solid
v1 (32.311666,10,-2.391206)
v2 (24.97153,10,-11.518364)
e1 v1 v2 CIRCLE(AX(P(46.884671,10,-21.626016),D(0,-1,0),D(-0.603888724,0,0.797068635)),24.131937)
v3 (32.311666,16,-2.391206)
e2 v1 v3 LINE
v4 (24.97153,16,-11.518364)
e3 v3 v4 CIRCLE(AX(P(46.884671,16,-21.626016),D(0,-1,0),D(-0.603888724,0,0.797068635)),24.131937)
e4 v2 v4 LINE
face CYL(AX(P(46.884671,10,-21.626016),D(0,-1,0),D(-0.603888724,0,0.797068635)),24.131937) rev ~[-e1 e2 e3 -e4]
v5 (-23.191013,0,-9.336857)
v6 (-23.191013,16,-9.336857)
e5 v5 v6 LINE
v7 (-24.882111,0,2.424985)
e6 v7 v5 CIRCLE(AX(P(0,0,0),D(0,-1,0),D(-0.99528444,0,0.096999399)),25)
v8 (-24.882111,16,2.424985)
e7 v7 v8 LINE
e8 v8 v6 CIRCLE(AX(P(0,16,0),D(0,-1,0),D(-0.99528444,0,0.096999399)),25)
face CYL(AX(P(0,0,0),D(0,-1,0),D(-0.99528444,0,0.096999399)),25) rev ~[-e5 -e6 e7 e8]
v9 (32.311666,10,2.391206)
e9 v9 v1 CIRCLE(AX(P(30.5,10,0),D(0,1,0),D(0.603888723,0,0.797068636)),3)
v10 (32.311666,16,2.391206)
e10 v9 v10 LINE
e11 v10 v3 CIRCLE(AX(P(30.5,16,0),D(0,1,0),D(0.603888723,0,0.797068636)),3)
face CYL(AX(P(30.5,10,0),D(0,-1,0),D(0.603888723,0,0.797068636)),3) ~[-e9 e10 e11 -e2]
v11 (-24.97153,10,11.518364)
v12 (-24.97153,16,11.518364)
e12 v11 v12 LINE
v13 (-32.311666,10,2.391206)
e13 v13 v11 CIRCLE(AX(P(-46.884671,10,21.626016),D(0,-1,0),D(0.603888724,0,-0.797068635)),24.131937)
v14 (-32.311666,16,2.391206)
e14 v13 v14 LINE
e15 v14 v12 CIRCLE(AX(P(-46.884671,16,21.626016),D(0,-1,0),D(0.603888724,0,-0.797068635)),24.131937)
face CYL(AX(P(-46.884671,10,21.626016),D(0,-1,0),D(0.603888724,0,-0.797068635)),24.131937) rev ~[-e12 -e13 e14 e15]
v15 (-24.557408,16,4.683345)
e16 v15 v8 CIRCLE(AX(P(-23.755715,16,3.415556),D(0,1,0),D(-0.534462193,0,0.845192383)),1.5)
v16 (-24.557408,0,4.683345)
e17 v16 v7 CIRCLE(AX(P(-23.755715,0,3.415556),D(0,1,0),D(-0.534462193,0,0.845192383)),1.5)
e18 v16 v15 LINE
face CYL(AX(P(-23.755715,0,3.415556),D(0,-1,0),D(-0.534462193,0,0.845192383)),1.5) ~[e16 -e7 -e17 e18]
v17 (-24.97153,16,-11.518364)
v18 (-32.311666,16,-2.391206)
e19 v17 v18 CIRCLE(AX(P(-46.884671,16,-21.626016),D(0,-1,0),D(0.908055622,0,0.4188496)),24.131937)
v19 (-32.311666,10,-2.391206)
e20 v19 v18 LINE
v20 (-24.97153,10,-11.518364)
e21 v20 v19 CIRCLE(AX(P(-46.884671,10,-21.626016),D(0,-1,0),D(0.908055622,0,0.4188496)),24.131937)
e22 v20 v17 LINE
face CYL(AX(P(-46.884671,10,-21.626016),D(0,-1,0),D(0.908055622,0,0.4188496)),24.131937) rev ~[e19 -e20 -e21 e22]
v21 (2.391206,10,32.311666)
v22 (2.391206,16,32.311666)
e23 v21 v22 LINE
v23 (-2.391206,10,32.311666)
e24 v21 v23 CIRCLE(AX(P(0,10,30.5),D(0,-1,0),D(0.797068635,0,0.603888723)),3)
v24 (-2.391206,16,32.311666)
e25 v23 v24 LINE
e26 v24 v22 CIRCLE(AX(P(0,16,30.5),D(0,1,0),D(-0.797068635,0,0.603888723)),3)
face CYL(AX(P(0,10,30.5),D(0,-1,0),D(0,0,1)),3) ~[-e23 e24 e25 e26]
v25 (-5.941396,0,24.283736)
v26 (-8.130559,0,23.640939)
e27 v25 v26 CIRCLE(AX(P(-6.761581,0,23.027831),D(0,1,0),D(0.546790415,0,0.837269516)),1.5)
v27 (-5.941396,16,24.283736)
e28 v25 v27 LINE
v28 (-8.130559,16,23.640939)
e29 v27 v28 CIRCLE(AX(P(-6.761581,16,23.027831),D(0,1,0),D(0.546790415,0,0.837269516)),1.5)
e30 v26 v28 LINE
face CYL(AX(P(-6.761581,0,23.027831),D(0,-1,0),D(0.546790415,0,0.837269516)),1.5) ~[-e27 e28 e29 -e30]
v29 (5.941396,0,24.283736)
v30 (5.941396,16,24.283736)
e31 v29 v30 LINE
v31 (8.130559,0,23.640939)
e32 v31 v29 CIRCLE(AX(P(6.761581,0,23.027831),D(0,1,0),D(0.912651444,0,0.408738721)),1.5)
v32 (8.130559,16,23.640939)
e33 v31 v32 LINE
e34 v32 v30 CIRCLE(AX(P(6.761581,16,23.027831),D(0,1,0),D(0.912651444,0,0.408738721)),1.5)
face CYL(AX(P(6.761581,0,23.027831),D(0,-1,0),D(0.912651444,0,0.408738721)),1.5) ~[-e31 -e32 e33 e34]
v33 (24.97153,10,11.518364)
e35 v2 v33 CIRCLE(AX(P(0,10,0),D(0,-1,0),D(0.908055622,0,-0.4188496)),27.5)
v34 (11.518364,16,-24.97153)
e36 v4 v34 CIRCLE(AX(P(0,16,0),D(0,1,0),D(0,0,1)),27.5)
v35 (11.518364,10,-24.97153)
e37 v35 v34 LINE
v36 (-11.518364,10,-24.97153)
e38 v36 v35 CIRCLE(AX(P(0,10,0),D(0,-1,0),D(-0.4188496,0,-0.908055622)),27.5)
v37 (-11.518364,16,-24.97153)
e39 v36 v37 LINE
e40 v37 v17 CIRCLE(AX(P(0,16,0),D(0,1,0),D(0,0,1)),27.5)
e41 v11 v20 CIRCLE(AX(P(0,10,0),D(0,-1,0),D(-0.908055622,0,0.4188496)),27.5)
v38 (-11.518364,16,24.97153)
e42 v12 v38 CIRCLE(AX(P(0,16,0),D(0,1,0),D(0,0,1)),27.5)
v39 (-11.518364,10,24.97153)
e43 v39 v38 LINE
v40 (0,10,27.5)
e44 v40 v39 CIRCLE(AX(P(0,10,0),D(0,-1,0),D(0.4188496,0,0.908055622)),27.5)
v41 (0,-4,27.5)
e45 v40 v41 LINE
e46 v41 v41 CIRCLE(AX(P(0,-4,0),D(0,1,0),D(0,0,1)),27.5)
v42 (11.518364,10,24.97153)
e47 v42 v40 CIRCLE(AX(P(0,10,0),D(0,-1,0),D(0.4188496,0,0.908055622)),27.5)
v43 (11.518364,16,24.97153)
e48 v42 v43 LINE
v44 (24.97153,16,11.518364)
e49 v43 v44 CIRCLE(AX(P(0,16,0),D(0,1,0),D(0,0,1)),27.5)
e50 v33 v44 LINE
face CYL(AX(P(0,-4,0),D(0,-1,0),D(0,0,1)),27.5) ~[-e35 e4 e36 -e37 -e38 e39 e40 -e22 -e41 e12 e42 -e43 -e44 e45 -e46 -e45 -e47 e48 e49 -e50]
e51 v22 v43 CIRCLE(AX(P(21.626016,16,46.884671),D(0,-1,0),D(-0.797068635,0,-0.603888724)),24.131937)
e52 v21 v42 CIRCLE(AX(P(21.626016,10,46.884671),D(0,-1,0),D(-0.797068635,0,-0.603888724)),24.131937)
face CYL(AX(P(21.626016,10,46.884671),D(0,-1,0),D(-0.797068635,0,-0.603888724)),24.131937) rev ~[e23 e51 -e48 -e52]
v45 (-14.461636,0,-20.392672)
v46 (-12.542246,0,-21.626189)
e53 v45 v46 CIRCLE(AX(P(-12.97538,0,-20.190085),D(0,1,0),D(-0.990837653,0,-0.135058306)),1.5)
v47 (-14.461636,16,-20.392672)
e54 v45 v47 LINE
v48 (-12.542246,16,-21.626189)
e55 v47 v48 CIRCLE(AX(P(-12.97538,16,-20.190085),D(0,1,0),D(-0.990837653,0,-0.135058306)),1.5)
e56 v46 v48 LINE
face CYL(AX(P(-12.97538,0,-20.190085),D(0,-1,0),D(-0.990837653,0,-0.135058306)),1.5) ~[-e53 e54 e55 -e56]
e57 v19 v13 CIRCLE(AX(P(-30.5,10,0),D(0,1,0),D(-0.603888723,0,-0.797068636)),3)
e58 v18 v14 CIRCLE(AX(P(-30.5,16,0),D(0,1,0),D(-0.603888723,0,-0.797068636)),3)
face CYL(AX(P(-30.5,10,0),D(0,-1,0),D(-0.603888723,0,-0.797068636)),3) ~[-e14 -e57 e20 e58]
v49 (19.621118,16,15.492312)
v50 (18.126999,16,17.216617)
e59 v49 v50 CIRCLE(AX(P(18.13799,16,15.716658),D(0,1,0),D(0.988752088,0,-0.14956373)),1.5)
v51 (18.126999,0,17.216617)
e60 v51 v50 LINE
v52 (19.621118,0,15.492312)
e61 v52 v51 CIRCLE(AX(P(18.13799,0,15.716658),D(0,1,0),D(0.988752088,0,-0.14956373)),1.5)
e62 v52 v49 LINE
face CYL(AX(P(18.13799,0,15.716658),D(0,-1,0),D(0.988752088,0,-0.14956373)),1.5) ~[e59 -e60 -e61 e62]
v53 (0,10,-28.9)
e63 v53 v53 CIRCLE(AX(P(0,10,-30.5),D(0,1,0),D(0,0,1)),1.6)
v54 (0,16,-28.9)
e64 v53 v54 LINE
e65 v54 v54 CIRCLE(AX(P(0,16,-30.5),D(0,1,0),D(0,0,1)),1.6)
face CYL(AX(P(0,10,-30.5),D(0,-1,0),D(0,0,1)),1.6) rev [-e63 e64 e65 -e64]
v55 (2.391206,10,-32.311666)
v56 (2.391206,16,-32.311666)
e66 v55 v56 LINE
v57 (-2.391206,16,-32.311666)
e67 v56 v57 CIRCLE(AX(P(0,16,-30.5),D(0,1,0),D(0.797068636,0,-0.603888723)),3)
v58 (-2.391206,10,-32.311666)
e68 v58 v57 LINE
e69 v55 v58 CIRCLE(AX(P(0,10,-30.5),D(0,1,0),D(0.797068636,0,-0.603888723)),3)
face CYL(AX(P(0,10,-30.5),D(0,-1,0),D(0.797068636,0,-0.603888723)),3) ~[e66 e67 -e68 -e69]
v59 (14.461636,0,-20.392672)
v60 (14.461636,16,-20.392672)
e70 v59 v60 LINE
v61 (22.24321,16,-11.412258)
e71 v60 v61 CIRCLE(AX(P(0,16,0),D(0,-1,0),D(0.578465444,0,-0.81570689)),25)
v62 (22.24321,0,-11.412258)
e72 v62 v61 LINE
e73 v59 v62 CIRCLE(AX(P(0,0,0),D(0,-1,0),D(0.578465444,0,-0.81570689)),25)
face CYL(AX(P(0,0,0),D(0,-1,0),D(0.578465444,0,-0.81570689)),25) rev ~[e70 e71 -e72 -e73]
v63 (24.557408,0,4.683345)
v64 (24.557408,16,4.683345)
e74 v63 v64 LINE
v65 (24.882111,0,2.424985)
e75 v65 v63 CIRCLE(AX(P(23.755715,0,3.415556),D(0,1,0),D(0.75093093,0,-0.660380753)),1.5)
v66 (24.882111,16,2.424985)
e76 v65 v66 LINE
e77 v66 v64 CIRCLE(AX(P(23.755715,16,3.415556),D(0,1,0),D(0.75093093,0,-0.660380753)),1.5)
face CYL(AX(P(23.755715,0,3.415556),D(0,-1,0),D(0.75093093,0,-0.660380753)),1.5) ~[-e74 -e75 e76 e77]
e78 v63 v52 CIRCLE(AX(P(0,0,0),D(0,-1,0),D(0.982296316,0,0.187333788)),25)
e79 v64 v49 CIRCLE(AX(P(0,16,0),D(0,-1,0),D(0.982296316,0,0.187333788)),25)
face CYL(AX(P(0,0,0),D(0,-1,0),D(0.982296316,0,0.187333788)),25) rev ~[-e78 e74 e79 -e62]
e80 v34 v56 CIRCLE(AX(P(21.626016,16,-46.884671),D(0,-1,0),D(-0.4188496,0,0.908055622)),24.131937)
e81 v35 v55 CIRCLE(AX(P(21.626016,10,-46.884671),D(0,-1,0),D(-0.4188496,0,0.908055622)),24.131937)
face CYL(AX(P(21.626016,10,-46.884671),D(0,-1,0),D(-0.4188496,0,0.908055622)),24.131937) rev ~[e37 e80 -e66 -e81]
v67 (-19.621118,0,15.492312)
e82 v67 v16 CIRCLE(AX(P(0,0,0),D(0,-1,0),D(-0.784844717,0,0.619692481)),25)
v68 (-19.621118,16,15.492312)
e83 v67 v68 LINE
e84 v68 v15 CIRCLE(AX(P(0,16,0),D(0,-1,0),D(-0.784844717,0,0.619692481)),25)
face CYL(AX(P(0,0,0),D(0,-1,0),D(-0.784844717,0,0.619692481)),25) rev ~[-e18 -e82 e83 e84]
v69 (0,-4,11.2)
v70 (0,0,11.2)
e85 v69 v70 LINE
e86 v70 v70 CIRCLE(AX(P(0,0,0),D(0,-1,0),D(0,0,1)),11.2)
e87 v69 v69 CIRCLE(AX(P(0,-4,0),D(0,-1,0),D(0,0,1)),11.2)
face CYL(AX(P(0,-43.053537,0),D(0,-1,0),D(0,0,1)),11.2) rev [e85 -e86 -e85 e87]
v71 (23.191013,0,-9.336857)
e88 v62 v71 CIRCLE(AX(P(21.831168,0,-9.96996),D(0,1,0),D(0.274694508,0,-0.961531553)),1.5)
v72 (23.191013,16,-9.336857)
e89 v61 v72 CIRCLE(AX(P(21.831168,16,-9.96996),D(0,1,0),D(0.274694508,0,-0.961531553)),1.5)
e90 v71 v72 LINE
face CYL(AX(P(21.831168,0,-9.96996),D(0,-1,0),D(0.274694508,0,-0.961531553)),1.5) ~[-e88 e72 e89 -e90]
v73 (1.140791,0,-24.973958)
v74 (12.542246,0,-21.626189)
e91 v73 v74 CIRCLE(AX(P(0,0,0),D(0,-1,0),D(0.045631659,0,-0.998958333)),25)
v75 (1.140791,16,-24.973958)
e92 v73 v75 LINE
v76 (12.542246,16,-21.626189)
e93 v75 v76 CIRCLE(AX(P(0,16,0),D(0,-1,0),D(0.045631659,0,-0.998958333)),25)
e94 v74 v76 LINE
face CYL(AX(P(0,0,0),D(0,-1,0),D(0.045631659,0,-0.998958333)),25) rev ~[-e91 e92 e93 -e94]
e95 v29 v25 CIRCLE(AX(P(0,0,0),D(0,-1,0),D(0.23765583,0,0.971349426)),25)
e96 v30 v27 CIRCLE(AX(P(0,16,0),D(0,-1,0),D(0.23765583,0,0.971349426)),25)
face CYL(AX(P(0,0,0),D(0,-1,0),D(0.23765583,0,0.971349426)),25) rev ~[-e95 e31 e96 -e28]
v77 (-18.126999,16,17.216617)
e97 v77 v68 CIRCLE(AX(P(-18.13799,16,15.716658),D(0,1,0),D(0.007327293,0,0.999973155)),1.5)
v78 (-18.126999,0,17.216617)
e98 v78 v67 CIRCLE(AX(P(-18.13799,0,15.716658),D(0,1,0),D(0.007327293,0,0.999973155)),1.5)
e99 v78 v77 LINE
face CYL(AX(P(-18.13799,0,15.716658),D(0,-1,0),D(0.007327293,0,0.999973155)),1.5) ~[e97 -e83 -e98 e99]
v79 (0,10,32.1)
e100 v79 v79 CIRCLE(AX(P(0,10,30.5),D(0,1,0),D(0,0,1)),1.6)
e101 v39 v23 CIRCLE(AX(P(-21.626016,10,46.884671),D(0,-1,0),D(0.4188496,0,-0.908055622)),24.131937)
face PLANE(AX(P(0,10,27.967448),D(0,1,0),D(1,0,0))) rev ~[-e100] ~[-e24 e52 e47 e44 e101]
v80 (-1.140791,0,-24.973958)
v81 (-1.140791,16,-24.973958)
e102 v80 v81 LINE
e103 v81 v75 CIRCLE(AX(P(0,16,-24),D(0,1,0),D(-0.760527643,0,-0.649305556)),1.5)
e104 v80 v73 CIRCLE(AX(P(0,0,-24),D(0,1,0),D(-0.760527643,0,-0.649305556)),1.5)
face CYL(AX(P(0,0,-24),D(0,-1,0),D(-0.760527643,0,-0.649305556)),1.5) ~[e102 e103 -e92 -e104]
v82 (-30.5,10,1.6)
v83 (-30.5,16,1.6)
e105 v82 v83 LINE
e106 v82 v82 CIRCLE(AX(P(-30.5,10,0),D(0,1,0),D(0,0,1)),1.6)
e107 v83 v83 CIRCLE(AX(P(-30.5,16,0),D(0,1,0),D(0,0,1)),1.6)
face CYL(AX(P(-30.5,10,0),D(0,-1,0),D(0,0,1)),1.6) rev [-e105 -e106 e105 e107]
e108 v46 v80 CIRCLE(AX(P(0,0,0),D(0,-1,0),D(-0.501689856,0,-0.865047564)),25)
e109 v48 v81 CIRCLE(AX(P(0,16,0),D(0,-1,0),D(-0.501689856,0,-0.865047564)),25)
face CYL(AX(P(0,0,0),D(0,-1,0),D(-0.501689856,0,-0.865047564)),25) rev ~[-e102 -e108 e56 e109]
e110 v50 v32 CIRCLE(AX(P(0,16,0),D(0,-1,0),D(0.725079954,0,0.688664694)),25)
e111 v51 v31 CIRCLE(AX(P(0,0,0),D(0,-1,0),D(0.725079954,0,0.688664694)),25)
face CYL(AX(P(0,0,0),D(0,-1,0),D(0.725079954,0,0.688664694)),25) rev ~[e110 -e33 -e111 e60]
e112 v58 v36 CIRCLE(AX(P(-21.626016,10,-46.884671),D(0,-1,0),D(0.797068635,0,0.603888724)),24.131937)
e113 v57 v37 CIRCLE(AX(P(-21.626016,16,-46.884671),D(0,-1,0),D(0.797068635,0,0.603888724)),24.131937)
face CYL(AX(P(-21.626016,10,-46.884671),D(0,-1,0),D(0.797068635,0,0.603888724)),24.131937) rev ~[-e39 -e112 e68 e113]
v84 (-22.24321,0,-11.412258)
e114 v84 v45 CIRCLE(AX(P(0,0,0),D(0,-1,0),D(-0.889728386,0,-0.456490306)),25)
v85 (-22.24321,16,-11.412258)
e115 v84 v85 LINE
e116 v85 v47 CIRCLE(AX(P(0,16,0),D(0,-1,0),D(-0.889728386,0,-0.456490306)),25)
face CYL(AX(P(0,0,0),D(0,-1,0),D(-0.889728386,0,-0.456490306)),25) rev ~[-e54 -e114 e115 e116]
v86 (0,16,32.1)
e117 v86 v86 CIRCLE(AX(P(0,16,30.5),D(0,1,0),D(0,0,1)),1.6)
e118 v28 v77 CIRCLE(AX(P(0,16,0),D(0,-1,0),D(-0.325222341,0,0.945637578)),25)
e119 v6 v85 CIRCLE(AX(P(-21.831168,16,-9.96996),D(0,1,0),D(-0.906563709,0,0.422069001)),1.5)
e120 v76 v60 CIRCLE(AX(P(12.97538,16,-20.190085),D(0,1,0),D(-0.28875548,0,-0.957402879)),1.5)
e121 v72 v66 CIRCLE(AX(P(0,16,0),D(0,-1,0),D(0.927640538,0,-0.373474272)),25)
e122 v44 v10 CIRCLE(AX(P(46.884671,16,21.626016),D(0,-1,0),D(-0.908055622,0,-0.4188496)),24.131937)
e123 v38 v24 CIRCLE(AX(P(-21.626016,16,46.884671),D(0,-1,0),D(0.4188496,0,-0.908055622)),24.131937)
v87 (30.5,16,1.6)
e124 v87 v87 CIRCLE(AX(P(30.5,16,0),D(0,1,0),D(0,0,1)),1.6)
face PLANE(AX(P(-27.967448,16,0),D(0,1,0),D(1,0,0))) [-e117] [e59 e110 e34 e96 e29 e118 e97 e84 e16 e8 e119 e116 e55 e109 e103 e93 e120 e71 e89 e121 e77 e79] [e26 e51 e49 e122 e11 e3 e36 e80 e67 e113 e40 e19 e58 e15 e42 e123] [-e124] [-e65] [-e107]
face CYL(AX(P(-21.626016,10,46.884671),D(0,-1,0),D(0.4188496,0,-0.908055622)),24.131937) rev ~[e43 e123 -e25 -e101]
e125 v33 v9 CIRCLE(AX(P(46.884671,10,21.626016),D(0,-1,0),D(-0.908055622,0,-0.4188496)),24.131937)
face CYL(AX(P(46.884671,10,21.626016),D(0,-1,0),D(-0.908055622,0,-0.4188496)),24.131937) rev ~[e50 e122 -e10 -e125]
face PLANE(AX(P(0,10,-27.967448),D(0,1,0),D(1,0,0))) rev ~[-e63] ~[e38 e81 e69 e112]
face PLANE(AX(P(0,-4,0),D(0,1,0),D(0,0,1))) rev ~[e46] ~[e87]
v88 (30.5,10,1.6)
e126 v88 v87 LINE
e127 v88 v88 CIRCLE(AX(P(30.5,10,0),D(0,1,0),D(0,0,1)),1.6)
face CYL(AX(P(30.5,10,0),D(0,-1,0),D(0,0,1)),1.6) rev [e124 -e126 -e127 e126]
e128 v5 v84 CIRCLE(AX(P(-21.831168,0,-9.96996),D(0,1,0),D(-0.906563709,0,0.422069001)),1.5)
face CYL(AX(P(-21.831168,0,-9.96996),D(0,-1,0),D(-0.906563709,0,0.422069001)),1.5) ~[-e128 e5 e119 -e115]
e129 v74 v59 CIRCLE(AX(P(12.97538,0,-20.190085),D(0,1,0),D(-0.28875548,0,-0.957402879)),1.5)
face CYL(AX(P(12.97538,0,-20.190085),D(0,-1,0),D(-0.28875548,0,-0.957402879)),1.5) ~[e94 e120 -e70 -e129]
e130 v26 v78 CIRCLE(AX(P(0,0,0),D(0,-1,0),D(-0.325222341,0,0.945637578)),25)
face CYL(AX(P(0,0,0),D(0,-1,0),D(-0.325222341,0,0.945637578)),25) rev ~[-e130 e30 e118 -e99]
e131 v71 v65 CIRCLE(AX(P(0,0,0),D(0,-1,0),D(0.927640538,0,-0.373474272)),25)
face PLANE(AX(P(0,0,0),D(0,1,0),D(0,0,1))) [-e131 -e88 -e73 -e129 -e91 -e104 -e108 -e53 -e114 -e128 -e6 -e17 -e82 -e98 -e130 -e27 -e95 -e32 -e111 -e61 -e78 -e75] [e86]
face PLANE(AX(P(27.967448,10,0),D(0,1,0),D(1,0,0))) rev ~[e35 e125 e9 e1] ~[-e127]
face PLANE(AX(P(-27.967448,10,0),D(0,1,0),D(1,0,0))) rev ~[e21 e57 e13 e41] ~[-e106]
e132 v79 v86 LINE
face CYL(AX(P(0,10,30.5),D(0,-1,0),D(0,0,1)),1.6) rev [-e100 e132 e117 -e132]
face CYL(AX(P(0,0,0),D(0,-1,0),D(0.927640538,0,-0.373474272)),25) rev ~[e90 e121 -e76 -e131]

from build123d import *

# Parameters (mm, degrees)
SKETCH1_R               = 27.5
BOSS_EXTRUDE1_DEPTH     = 16
BOSS_EXTRUDE2_START     = -4
SKETCH1_3_R             = 27.5
BOSS_EXTRUDE2_DEPTH     = 4
CUT_EXTRUDE1_DEPTH      = 43.053537307
CUT_EXTRUDE1_DEPTH_BACK = 43.053537307
SKETCH1_5_R             = 11.2
SKETCH6_R               = 3
SKETCH6_R_2             = 1.6
BOSS_EXTRUDE6_DEPTH     = 6
BOSS_EXTRUDE6_2_DEPTH   = 6
BOSS_EXTRUDE6_3_DEPTH   = 6
BOSS_EXTRUDE6_4_DEPTH   = 6
BOSS_EXTRUDE8_START     = -6
SKETCH8_R               = 1.6
BOSS_EXTRUDE8_DEPTH     = 6


with BuildPart() as part:
    # Sketch1 → Boss-Extrude1 (new body)
    with BuildSketch(Plane(origin=(0, 0, 0), x_dir=(1, 0, 0), z_dir=(0, 1, 0))):
        with Locations(Location((0, 0, 0), (0, 0, 270))):
            Circle(SKETCH1_R)
        with BuildLine():
            ThreePointArc((1.140791464, 24.973958333), (7.043313921, 23.98732434), (12.542246399, 21.626189106))
            ThreePointArc((12.542246399, 21.626189106), (12.164418393, 18.928204489), (14.461636098, 20.392672247))
            ThreePointArc((14.461636098, 20.392672247), (18.893739359, 16.371518349), (22.24320965, 11.412257642))
            ThreePointArc((22.24320965, 11.412257642), (20.466719895, 9.346837793), (23.191013452, 9.33685681))
            ThreePointArc((23.191013452, 9.33685681), (24.745536047, 3.557870957), (24.882111, -2.424984989))
            ThreePointArc((24.882111, -2.424984989), (22.270982442, -3.202083861), (24.557407894, -4.683344693))
            ThreePointArc((24.557407894, -4.683344693), (22.740799884, -10.385375325), (19.621117916, -15.49231202))
            ThreePointArc((19.621117916, -15.49231202), (17.004365423, -14.734366514), (18.126998845, -17.216617347))
            ThreePointArc((18.126998845, -17.216617347), (13.516020436, -21.031338321), (8.13055853, -23.640939448))
            ThreePointArc((8.13055853, -23.640939448), (6.338982529, -21.588591906), (5.941395741, -24.28373564))
            ThreePointArc((5.941395741, -24.28373564), (0, -25), (-5.941395741, -24.28373564))
            ThreePointArc((-5.941395741, -24.28373564), (-6.338982529, -21.588591906), (-8.13055853, -23.640939448))
            ThreePointArc((-8.13055853, -23.640939448), (-13.516020436, -21.031338321), (-18.126998845, -17.216617347))
            ThreePointArc((-18.126998845, -17.216617347), (-17.004365423, -14.734366514), (-19.621117916, -15.49231202))
            ThreePointArc((-19.621117916, -15.49231202), (-22.740799884, -10.385375325), (-24.557407894, -4.683344693))
            ThreePointArc((-24.557407894, -4.683344693), (-22.270982442, -3.202083861), (-24.882111, -2.424984989))
            ThreePointArc((-24.882111, -2.424984989), (-24.745536047, 3.557870957), (-23.191013452, 9.33685681))
            ThreePointArc((-23.191013452, 9.33685681), (-20.466719895, 9.346837793), (-22.24320965, 11.412257642))
            ThreePointArc((-22.24320965, 11.412257642), (-18.893739359, 16.371518349), (-14.461636098, 20.392672247))
            ThreePointArc((-14.461636098, 20.392672247), (-12.164418393, 18.928204489), (-12.542246399, 21.626189106))
            ThreePointArc((-12.542246399, 21.626189106), (-7.043313921, 23.98732434), (-1.140791464, 24.973958333))
            ThreePointArc((-1.140791464, 24.973958333), (0, 22.5), (1.140791464, 24.973958333))
        make_face(mode=Mode.SUBTRACT)
    extrude(amount=BOSS_EXTRUDE1_DEPTH)

    # Sketch1<3> → Boss-Extrude2 (add)
    with BuildSketch(Plane(origin=(0, 0, 0), x_dir=(1, 0, 0), z_dir=(0, 1, 0)).offset(BOSS_EXTRUDE2_START)):
        with Locations(Location((0, 0, 0), (0, 0, 270))):
            Circle(SKETCH1_3_R)
    extrude(amount=BOSS_EXTRUDE2_DEPTH)

    # Sketch1<5> → Cut-Extrude1 (cut, two sides: drawn at the far end of the back side and taken through both)
    with BuildSketch(Plane(origin=(0, 0, 0), x_dir=(1, 0, 0), z_dir=(0, 1, 0)).offset(-CUT_EXTRUDE1_DEPTH_BACK)):
        with Locations(Location((0, 0, 0), (0, 0, 270))):
            Circle(SKETCH1_5_R)
    extrude(amount=CUT_EXTRUDE1_DEPTH + CUT_EXTRUDE1_DEPTH_BACK, mode=Mode.SUBTRACT)



with BuildPart() as body_2:
    # Sketch6 → Boss-Extrude6 (new body)
    with BuildSketch(Plane(origin=(0, 10, 0), x_dir=(1, 0, 0), z_dir=(0, 1, 0))):
        with Locations(Location((-30.5, 0, 0), (0, 0, 270))):
            Circle(SKETCH6_R)
        with Locations(Location((-30.5, 0, 0), (0, 0, 270))):
            Circle(SKETCH6_R_2, mode=Mode.SUBTRACT)
    extrude(amount=BOSS_EXTRUDE6_DEPTH)


with BuildPart() as body_3:
    # Sketch6 → Boss-Extrude6 2 (new body)
    with BuildSketch(Plane(origin=(0, 10, 0), x_dir=(1, 0, 0), z_dir=(0, 1, 0))):
        with Locations(Location((0, 30.5, 0), (0, 0, 270))):
            Circle(SKETCH6_R)
        with Locations(Location((0, 30.5, 0), (0, 0, 270))):
            Circle(SKETCH6_R_2, mode=Mode.SUBTRACT)
    extrude(amount=BOSS_EXTRUDE6_2_DEPTH)


with BuildPart() as body_4:
    # Sketch6 → Boss-Extrude6 3 (new body)
    with BuildSketch(Plane(origin=(0, 10, 0), x_dir=(1, 0, 0), z_dir=(0, 1, 0))):
        with Locations(Location((30.5, 0, 0), (0, 0, 270))):
            Circle(SKETCH6_R)
        with Locations(Location((30.5, 0, 0), (0, 0, 270))):
            Circle(SKETCH6_R_2, mode=Mode.SUBTRACT)
    extrude(amount=BOSS_EXTRUDE6_3_DEPTH)


with BuildPart() as body_5:
    # Sketch6 → Boss-Extrude6 4 (new body)
    with BuildSketch(Plane(origin=(0, 10, 0), x_dir=(1, 0, 0), z_dir=(0, 1, 0))):
        with Locations(Location((0, -30.5, 0), (0, 0, 270))):
            Circle(SKETCH6_R)
        with Locations(Location((0, -30.5, 0), (0, 0, 270))):
            Circle(SKETCH6_R_2, mode=Mode.SUBTRACT)
    extrude(amount=BOSS_EXTRUDE6_4_DEPTH)


with BuildPart() as part_1:
    add(part.part)

    add(body_2.part)  # Boss-Extrude8 merges body 2

    add(body_3.part)  # Boss-Extrude8 merges body 3

    add(body_4.part)  # Boss-Extrude8 merges body 4

    add(body_5.part)  # Boss-Extrude8 merges body 5
    # Sketch8 → Boss-Extrude8 (add)
    # profile 1 of 4: a face of its own
    with BuildSketch(Plane(origin=(0, 16, 0), x_dir=(1, 0, 0), z_dir=(0, 1, 0)).offset(BOSS_EXTRUDE8_START)):
        with BuildLine():
            ThreePointArc((-32.31166617, -2.391205906), (-28.079459744, -6.502708785), (-24.971529598, -11.518364013))
            ThreePointArc((-24.971529598, -11.518364013), (-27.5, 0), (-24.971529598, 11.518364013))
            ThreePointArc((-24.971529598, 11.518364013), (-28.079459744, 6.502708785), (-32.31166617, 2.391205906))
            ThreePointArc((-32.31166617, 2.391205906), (-33.5, 0), (-32.31166617, -2.391205906))
        make_face()
        with Locations(Location((-30.5, 0, 0), (0, 0, 270))):
            Circle(SKETCH8_R, mode=Mode.SUBTRACT)
    # profile 2 of 4: a face of its own
    with BuildSketch(Plane(origin=(0, 16, 0), x_dir=(1, 0, 0), z_dir=(0, 1, 0)).offset(BOSS_EXTRUDE8_START)):
        with BuildLine():
            ThreePointArc((-2.391205906, 32.31166617), (-6.502708785, 28.079459744), (-11.518364013, 24.971529598))
            ThreePointArc((-11.518364013, 24.971529598), (0, 27.5), (11.518364013, 24.971529598))
            ThreePointArc((11.518364013, 24.971529598), (6.502708785, 28.079459744), (2.391205906, 32.31166617))
            ThreePointArc((2.391205906, 32.31166617), (0, 33.5), (-2.391205906, 32.31166617))
        make_face()
        with Locations(Location((0, 30.5, 0), (0, 0, 270))):
            Circle(SKETCH8_R, mode=Mode.SUBTRACT)
    # profile 3 of 4: a face of its own
    with BuildSketch(Plane(origin=(0, 16, 0), x_dir=(1, 0, 0), z_dir=(0, 1, 0)).offset(BOSS_EXTRUDE8_START)):
        with BuildLine():
            ThreePointArc((32.31166617, 2.391205906), (28.079459744, 6.502708785), (24.971529598, 11.518364013))
            ThreePointArc((24.971529598, 11.518364013), (27.5, 0), (24.971529598, -11.518364013))
            ThreePointArc((24.971529598, -11.518364013), (28.079459744, -6.502708785), (32.31166617, -2.391205906))
            ThreePointArc((32.31166617, -2.391205906), (33.5, 0), (32.31166617, 2.391205906))
        make_face()
        with Locations(Location((30.5, 0, 0), (0, 0, 270))):
            Circle(SKETCH8_R, mode=Mode.SUBTRACT)
    # profile 4 of 4: a face of its own
    with BuildSketch(Plane(origin=(0, 16, 0), x_dir=(1, 0, 0), z_dir=(0, 1, 0)).offset(BOSS_EXTRUDE8_START)):
        with BuildLine():
            ThreePointArc((2.391205906, -32.31166617), (6.502708785, -28.079459744), (11.518364013, -24.971529598))
            ThreePointArc((11.518364013, -24.971529598), (0, -27.5), (-11.518364013, -24.971529598))
            ThreePointArc((-11.518364013, -24.971529598), (-6.502708785, -28.079459744), (-2.391205906, -32.31166617))
            ThreePointArc((-2.391205906, -32.31166617), (0, -33.5), (2.391205906, -32.31166617))
        make_face()
        with Locations(Location((0, -30.5, 0), (0, 0, 270))):
            Circle(SKETCH8_R, mode=Mode.SUBTRACT)
    extrude(amount=BOSS_EXTRUDE8_DEPTH)


solid = part_1.part
